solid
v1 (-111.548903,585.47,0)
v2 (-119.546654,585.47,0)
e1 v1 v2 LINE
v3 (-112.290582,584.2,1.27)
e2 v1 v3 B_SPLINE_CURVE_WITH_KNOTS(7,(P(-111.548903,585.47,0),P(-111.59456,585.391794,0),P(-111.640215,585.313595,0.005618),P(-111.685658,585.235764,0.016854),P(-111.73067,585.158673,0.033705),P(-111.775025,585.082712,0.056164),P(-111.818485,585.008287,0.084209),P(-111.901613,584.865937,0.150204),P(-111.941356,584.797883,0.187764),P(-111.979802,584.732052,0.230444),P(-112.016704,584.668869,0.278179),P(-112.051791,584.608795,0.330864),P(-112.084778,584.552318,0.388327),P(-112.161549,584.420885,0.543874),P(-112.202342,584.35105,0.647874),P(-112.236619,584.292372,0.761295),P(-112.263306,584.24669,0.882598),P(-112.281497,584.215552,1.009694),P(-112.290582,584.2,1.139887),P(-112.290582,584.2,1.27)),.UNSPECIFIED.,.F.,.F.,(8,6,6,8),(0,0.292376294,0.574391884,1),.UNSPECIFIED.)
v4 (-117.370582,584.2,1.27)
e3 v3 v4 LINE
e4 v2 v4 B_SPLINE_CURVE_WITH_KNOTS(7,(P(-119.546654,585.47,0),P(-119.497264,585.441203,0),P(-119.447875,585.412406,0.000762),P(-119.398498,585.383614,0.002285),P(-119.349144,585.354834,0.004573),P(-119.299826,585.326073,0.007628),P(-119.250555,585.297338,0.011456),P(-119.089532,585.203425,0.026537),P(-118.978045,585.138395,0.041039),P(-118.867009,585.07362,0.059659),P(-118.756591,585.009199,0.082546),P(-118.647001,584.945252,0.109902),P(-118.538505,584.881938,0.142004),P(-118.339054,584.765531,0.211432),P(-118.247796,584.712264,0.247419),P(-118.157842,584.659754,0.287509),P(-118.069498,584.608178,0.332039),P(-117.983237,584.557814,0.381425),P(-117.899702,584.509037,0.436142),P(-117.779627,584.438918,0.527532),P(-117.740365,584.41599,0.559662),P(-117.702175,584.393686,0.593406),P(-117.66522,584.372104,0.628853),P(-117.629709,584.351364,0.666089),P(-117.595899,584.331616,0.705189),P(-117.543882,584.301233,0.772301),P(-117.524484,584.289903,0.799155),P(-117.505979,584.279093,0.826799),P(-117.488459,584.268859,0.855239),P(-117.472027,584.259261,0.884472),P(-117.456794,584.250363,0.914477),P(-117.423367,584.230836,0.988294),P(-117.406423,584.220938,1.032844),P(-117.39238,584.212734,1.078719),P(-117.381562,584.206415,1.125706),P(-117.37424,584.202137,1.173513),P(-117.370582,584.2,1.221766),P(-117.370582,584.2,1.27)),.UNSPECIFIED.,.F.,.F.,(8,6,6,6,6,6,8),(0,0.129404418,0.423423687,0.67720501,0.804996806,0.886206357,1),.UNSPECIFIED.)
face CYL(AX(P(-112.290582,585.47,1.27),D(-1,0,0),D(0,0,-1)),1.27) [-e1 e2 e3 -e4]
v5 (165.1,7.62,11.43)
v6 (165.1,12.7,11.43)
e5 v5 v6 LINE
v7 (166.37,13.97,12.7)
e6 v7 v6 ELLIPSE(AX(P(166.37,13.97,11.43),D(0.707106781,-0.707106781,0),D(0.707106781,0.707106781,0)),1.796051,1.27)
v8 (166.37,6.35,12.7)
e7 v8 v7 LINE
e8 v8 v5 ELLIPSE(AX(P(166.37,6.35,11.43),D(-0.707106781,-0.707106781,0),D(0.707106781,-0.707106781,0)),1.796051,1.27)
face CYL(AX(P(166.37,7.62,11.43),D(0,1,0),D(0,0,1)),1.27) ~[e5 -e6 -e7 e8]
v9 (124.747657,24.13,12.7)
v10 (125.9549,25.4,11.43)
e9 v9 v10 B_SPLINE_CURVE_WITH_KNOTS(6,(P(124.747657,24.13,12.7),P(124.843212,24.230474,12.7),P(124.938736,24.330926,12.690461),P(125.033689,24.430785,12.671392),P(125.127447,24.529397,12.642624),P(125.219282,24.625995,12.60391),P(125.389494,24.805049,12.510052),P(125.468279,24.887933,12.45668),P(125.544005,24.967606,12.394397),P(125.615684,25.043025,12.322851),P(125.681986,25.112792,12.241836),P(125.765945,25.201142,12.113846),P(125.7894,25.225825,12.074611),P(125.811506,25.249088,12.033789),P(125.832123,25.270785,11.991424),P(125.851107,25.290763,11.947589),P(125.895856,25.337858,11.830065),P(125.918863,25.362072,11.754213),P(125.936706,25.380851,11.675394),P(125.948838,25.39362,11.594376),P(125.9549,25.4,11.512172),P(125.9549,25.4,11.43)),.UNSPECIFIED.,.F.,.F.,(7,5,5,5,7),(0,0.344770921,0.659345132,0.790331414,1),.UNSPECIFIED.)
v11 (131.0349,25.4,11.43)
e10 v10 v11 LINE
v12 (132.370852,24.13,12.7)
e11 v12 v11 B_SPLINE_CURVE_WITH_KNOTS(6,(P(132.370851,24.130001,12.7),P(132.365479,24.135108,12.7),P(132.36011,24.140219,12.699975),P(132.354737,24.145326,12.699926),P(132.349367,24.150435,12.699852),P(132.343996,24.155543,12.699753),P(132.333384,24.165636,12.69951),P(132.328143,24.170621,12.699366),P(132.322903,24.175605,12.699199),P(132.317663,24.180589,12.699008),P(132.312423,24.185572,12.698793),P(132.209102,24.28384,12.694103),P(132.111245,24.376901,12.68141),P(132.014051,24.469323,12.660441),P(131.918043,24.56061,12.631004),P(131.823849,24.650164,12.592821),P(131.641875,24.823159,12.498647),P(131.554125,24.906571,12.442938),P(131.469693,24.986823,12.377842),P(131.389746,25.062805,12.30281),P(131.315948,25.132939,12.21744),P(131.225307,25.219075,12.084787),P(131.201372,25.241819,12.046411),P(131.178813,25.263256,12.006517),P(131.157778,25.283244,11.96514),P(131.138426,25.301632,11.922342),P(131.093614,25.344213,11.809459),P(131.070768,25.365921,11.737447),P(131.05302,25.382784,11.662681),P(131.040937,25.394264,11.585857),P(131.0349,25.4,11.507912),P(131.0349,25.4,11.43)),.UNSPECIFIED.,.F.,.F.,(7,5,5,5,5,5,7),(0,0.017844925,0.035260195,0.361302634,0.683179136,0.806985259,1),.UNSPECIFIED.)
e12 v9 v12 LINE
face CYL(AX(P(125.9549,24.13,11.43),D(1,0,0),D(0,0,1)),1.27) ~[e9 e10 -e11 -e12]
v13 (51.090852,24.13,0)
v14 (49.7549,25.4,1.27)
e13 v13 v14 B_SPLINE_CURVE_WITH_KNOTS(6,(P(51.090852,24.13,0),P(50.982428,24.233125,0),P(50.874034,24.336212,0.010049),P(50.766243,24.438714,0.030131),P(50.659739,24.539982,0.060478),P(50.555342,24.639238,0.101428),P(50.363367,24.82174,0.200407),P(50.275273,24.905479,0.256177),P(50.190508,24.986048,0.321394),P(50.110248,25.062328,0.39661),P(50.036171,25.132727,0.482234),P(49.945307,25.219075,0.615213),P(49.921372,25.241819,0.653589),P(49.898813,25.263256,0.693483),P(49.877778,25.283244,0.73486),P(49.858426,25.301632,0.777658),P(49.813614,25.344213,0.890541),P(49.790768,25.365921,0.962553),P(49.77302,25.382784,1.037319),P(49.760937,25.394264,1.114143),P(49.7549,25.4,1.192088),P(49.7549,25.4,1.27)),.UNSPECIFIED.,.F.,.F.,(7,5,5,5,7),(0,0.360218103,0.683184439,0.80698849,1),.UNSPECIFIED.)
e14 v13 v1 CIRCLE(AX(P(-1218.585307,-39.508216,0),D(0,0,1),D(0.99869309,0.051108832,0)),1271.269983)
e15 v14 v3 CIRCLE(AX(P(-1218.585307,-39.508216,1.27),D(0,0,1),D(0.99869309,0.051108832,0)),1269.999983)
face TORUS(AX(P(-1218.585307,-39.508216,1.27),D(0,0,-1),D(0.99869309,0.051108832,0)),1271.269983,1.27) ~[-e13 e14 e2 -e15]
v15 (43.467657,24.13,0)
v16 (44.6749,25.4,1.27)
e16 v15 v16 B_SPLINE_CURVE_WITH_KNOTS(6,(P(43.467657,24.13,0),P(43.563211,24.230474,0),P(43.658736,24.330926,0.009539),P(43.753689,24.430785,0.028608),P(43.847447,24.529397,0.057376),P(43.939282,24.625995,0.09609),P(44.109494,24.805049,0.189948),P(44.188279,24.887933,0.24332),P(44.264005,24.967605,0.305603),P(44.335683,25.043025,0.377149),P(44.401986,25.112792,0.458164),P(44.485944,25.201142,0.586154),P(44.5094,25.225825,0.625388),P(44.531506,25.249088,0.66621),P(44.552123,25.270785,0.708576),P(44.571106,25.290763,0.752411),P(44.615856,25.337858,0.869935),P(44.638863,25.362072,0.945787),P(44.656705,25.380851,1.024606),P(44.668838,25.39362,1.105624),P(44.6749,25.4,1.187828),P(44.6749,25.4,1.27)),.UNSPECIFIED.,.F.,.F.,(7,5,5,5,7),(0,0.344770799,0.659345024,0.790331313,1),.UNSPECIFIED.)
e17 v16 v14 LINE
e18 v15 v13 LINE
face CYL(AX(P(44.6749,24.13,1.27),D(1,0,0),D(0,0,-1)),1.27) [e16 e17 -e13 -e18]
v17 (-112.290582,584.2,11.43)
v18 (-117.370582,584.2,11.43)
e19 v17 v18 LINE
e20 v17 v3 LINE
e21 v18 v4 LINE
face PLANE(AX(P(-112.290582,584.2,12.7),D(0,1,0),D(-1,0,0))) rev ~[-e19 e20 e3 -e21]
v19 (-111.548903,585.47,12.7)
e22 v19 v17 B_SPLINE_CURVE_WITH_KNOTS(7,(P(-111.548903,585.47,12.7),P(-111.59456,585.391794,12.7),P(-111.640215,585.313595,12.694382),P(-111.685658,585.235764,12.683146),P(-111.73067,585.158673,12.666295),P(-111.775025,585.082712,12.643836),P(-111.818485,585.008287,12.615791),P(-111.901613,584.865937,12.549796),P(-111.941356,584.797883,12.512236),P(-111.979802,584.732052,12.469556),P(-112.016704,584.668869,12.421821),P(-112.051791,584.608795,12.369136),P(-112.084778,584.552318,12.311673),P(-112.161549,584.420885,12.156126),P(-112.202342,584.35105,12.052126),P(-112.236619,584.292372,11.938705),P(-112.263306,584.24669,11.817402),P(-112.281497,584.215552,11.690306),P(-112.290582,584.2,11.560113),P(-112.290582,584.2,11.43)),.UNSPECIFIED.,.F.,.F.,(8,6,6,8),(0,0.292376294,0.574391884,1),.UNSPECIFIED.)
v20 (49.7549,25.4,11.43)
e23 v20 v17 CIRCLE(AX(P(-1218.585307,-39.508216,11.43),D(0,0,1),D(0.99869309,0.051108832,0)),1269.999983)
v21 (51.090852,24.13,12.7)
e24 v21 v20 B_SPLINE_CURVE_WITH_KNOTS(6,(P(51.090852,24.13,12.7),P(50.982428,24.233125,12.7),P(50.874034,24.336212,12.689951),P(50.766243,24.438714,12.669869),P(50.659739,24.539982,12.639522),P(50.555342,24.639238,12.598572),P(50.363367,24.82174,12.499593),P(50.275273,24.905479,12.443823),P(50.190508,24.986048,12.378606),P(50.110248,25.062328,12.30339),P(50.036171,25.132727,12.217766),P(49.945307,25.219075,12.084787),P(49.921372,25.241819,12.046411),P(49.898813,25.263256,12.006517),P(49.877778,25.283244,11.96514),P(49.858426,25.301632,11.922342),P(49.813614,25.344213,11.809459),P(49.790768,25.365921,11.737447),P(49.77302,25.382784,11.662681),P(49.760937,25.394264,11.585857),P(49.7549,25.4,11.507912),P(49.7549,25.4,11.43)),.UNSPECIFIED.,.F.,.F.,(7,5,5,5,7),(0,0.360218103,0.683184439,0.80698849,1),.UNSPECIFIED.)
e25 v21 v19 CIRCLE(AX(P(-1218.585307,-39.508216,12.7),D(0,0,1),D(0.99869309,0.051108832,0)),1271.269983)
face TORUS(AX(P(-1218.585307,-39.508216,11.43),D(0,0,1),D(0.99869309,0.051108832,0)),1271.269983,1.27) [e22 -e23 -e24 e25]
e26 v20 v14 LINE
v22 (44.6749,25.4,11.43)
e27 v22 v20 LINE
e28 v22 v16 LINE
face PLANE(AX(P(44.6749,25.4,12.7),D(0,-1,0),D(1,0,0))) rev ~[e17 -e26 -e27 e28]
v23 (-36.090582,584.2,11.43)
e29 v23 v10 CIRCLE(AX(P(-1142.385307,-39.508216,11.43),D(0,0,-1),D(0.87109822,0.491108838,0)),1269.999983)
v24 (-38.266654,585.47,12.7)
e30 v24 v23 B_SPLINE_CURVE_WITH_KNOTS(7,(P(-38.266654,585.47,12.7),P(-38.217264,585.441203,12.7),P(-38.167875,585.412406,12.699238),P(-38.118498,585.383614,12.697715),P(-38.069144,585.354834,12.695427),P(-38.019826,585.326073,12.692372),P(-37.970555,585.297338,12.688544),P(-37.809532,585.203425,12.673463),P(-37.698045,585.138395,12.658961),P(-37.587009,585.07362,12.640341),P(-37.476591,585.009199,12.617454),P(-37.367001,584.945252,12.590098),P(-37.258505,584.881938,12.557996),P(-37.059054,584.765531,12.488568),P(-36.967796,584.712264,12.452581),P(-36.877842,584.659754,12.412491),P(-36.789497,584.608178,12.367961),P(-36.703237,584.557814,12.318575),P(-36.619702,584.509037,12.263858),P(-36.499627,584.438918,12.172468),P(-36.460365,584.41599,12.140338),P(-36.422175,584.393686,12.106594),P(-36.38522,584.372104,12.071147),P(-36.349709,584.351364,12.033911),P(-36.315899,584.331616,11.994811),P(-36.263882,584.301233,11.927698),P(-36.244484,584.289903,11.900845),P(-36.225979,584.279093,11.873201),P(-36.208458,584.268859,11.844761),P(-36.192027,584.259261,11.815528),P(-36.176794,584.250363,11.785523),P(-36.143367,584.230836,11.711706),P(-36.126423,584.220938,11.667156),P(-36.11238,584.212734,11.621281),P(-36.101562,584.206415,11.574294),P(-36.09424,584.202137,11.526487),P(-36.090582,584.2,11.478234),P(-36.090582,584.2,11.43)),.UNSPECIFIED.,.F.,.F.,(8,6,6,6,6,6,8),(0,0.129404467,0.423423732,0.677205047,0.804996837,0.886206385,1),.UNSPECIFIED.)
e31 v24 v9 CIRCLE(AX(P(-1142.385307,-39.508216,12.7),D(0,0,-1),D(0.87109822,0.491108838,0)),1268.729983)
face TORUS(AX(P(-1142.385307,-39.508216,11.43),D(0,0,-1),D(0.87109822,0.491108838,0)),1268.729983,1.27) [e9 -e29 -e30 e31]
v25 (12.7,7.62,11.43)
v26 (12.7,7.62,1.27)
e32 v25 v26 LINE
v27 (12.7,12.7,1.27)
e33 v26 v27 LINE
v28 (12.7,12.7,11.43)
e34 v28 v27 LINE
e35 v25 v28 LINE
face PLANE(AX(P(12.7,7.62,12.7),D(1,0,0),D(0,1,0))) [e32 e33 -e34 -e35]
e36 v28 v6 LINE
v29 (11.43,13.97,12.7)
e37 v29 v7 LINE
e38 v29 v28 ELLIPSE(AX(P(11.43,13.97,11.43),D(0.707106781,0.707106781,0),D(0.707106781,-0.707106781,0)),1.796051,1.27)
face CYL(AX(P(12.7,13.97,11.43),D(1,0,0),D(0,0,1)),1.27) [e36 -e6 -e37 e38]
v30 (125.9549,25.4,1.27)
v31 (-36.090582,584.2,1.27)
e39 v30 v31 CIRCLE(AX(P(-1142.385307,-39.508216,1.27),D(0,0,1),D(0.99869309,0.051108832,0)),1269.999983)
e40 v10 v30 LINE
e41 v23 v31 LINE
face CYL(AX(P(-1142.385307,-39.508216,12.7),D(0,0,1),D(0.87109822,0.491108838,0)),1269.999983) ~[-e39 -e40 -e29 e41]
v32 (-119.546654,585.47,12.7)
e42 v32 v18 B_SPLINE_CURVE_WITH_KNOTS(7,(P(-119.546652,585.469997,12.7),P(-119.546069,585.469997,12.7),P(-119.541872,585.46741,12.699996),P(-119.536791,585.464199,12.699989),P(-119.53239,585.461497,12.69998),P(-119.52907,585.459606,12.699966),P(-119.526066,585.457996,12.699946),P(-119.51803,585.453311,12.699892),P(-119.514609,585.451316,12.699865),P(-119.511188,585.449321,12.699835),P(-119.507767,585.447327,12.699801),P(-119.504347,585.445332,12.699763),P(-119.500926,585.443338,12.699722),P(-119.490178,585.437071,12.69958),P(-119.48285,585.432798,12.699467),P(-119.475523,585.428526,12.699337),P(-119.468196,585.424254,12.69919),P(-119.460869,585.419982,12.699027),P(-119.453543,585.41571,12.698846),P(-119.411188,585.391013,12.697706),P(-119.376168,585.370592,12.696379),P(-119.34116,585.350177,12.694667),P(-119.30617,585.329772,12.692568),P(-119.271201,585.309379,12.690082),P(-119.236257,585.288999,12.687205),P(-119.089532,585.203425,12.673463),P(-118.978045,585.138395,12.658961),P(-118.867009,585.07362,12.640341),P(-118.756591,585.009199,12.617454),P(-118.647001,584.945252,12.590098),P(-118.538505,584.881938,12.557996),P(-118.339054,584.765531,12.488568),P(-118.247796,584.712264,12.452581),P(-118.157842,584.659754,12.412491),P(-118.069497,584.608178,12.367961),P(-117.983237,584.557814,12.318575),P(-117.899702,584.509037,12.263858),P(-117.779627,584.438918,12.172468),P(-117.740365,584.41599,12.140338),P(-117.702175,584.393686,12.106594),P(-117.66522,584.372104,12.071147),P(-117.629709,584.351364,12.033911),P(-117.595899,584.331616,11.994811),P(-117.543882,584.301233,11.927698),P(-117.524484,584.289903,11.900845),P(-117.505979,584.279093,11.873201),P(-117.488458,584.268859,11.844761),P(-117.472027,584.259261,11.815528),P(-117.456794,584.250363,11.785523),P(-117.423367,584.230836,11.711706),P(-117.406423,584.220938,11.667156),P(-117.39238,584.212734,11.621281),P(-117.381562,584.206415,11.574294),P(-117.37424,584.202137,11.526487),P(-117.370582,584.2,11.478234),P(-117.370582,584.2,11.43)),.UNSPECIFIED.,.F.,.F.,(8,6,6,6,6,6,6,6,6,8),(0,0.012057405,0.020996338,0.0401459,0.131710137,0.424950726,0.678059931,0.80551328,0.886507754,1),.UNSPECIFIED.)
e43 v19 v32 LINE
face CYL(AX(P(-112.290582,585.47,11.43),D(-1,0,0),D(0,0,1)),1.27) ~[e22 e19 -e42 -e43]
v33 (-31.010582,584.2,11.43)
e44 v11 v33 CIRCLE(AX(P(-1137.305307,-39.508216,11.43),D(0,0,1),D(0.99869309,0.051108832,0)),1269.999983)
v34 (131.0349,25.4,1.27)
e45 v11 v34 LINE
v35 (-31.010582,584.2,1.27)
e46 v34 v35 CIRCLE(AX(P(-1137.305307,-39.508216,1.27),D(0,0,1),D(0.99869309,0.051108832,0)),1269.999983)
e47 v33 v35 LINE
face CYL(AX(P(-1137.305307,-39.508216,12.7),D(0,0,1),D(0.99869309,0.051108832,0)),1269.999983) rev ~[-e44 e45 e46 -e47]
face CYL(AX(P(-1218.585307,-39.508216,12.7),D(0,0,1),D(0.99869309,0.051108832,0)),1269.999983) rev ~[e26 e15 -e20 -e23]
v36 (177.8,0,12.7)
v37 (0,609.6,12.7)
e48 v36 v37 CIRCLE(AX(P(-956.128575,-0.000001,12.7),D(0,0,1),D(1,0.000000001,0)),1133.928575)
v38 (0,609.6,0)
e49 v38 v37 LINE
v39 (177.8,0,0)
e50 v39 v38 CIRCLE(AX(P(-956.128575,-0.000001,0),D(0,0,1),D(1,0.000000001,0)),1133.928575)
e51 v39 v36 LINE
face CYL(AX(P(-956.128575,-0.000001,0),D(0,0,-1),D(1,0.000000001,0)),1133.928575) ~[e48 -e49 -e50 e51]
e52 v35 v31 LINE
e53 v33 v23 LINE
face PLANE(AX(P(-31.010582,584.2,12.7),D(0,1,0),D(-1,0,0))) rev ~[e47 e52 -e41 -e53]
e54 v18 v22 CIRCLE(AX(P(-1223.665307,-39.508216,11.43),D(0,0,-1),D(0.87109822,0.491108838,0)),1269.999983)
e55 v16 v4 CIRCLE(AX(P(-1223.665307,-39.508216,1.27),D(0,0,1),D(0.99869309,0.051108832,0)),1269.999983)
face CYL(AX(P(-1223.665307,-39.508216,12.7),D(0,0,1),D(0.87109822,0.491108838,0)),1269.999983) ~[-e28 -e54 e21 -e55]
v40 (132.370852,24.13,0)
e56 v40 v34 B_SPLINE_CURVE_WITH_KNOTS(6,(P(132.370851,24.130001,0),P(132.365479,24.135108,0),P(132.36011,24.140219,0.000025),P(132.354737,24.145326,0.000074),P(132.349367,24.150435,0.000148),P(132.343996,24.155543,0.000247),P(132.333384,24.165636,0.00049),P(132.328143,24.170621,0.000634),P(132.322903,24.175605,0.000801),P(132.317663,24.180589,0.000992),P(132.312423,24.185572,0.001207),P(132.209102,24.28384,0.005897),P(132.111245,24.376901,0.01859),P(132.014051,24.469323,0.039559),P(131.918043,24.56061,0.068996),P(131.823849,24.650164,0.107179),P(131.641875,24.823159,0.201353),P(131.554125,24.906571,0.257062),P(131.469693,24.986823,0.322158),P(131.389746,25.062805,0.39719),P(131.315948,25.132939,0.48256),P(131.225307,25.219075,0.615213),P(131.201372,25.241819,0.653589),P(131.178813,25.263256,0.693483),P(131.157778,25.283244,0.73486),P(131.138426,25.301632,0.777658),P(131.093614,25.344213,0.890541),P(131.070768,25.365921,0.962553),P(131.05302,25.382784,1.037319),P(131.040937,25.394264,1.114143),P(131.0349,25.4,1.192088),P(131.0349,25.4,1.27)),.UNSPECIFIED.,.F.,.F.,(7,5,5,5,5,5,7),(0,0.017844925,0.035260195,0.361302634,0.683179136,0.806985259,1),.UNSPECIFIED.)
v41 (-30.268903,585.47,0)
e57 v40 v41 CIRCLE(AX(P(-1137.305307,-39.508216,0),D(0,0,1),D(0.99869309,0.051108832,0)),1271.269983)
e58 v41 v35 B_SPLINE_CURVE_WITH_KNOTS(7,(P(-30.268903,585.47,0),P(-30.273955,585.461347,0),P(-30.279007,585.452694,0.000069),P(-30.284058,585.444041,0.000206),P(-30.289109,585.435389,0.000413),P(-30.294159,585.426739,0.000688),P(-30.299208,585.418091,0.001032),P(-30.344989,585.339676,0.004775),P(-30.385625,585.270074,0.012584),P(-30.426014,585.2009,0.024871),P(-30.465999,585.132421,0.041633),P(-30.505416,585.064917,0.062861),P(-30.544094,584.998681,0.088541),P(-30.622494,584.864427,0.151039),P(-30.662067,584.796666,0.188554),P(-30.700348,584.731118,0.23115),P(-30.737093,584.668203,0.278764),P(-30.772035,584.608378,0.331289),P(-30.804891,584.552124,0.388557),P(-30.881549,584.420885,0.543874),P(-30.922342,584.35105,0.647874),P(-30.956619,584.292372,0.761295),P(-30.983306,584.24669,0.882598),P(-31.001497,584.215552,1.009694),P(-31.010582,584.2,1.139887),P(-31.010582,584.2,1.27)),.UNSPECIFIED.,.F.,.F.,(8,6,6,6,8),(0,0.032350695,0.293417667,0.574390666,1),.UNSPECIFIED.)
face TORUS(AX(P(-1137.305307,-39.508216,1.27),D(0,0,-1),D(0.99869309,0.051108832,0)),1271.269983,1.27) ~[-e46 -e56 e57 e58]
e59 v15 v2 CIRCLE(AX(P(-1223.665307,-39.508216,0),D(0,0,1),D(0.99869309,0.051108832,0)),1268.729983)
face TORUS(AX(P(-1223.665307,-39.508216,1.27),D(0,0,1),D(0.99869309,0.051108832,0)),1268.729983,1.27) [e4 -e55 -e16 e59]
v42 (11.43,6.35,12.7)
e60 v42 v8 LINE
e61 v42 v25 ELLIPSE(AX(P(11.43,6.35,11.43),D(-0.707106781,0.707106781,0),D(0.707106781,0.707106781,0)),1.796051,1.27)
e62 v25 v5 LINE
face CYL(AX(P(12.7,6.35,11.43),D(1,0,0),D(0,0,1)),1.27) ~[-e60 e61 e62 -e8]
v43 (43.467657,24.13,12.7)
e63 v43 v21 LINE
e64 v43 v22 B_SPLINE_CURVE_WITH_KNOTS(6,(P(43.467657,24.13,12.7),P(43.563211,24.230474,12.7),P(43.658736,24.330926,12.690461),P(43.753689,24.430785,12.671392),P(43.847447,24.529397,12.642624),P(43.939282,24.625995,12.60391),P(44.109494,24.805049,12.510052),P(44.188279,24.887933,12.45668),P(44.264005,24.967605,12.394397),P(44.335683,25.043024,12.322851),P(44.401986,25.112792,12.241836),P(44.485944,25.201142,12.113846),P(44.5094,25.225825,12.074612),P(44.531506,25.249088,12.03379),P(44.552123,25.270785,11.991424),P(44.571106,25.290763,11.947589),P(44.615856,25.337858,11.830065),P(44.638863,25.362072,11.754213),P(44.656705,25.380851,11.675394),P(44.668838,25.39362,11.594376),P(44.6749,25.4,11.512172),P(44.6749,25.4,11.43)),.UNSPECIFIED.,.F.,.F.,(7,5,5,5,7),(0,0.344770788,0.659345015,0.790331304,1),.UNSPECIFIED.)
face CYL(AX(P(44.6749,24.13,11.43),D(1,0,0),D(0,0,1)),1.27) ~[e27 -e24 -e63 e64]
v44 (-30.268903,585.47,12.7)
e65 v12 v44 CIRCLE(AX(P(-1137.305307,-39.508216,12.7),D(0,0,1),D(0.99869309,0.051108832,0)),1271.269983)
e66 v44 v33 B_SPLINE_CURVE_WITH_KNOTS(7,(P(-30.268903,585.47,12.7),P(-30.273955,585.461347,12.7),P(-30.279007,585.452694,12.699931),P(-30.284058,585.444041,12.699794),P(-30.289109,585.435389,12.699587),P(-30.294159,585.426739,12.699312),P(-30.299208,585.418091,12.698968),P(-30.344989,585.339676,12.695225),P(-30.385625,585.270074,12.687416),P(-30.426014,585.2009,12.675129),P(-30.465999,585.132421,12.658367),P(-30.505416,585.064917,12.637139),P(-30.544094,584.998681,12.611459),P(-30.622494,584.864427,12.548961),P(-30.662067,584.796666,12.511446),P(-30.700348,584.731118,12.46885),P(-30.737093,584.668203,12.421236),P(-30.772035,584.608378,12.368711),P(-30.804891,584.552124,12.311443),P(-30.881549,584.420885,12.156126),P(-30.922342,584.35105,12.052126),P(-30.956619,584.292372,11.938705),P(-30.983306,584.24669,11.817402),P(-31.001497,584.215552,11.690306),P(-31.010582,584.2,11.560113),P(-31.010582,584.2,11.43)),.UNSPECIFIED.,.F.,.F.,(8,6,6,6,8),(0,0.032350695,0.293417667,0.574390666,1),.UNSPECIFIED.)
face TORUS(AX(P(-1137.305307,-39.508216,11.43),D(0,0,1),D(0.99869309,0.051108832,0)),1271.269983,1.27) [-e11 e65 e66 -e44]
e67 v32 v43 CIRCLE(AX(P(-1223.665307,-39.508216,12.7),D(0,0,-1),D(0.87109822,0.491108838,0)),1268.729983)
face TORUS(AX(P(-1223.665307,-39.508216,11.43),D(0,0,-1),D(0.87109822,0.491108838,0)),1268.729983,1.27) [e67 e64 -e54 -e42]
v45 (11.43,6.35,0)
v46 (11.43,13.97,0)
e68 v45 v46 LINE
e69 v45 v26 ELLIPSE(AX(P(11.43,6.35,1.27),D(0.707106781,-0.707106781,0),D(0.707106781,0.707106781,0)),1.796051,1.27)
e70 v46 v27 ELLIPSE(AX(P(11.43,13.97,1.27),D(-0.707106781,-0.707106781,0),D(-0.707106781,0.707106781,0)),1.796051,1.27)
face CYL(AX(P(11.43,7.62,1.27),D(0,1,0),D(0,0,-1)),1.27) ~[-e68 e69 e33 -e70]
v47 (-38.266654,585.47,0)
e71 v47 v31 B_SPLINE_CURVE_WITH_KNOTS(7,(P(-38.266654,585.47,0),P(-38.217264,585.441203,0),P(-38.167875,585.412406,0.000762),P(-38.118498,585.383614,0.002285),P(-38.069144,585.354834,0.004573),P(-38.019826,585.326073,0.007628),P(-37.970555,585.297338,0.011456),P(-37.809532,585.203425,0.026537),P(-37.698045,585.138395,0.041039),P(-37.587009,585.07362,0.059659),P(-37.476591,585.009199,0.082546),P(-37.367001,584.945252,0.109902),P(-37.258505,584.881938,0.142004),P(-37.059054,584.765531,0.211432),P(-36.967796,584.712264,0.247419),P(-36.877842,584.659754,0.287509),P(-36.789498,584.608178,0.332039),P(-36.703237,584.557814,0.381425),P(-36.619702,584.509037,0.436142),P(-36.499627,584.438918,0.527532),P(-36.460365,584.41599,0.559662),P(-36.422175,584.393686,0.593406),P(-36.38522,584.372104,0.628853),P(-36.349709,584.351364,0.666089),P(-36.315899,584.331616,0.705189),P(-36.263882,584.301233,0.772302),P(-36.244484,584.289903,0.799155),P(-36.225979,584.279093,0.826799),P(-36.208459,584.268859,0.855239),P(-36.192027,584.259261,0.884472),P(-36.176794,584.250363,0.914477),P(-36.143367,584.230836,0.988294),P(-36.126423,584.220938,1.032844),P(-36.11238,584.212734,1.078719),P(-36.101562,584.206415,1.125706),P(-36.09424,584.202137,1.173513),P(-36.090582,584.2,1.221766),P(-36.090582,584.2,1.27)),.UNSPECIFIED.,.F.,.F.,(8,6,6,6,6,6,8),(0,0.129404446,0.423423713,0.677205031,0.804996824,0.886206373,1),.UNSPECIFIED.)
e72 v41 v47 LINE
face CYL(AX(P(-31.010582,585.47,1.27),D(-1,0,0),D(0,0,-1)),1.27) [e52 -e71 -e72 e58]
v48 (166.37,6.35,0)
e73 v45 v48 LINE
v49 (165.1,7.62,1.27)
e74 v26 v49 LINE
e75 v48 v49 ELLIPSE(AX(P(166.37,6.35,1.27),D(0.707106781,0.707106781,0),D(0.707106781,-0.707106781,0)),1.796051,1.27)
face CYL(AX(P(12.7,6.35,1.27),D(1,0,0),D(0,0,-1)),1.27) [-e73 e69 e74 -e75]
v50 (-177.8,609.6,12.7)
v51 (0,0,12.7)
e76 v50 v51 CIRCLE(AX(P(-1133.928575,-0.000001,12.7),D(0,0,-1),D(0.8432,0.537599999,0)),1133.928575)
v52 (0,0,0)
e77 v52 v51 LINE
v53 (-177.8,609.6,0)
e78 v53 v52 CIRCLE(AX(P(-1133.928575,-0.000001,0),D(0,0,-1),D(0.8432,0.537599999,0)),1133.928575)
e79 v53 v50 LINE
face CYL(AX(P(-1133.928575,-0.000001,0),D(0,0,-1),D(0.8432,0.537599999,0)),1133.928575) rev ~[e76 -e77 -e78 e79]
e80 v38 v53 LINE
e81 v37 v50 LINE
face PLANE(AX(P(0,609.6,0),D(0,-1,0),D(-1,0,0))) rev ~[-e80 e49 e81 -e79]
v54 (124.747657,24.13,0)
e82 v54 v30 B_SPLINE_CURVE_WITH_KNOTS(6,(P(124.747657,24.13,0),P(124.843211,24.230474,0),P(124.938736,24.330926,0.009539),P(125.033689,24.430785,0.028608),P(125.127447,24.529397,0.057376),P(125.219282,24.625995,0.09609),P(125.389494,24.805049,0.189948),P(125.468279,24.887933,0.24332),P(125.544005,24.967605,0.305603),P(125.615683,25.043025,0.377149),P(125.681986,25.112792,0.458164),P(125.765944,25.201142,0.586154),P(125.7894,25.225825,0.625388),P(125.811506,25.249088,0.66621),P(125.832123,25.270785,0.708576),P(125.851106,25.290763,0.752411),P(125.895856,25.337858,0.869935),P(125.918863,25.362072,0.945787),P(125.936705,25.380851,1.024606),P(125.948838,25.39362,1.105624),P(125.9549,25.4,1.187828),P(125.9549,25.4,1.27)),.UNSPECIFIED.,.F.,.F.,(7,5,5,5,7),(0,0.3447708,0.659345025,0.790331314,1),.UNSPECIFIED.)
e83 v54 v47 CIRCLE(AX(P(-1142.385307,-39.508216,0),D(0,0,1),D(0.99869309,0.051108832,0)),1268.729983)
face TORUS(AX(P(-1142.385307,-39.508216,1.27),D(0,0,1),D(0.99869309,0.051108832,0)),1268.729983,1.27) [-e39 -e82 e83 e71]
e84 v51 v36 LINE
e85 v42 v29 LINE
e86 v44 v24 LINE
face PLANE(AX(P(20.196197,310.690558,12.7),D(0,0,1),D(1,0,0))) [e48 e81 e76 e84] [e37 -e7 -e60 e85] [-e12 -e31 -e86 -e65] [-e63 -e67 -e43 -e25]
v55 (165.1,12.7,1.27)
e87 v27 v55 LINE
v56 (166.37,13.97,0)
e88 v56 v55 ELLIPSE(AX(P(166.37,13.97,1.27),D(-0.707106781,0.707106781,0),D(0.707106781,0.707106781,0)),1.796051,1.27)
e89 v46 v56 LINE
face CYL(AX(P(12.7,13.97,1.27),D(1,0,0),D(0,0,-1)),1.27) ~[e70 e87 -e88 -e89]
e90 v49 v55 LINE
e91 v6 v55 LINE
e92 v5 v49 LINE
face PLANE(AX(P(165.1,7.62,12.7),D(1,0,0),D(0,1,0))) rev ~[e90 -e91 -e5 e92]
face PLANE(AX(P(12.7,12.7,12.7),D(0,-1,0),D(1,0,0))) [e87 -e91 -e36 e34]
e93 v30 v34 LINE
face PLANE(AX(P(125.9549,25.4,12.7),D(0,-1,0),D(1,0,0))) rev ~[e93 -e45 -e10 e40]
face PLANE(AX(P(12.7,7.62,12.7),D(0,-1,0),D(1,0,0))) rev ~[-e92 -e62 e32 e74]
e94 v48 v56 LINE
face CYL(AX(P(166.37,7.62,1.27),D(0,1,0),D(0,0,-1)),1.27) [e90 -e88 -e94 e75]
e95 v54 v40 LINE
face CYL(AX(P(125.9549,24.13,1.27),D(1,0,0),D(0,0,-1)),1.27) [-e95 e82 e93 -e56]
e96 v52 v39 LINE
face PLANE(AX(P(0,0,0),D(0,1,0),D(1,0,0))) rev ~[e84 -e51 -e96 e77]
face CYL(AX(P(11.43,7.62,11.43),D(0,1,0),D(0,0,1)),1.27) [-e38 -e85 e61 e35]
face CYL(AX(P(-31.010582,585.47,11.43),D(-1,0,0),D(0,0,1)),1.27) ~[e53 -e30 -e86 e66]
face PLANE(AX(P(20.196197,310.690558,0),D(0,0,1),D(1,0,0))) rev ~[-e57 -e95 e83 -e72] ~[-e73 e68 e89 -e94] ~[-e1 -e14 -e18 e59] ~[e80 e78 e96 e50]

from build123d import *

# Parameters (mm, degrees)
F1_DEPTH = 12.7
F3_DEPTH = 12.701
F5_DEPTH = 12.701
F6_W     = 152.4
F6_H     = 5.08
F7_DEPTH = 12.701
F8_R     = 1.27


with BuildPart() as f1:
    # F0 (on Top) → F1 (new body)
    with BuildSketch(Plane.XY):
        with BuildLine():
            ThreePointArc((-177.8, 609.6), (-45.357143, 317.5), (0, 0))
            Line((0, 0), (177.8, 0))
            ThreePointArc((177.8, 0), (132.442857, 317.5), (0, 609.6))
            Line((0, 609.6), (-177.8, 609.6))
        make_face()
    extrude(amount=F1_DEPTH)

    # F2 (on face) → F3 (cut, through all)
    with BuildSketch(Plane.XY.offset(12.7)):
        with BuildLine():
            Line((44.6749, 25.4), (49.7549, 25.4))
            ThreePointArc((49.7549, 25.4), (1.163489, 314.204707), (-112.290582, 584.2))
            Line((-112.290582, 584.2), (-117.370582, 584.2))
            ThreePointArc((-117.370582, 584.2), (-3.916511, 314.204707), (44.6749, 25.4))
        make_face()
    extrude(amount=-F3_DEPTH, mode=Mode.SUBTRACT)

    # F4 (on face) → F5 (cut, through all)
    with BuildSketch(Plane.XY.offset(12.7)):
        with BuildLine():
            ThreePointArc((-36.090582, 584.2), (77.363489, 314.204707), (125.9549, 25.4))
            Line((125.9549, 25.4), (131.0349, 25.4))
            ThreePointArc((131.0349, 25.4), (82.443489, 314.204707), (-31.010582, 584.2))
            Line((-31.010582, 584.2), (-36.090582, 584.2))
        make_face()
    extrude(amount=-F5_DEPTH, mode=Mode.SUBTRACT)

    # F6 (on face) → F7 (cut, through all)
    with BuildSketch(Plane.XY.offset(12.7)):
        with Locations((88.9, 10.16)):
            Rectangle(F6_W, F6_H)
    extrude(amount=-F7_DEPTH, mode=Mode.SUBTRACT)

    # F8
    f8_edges = [f1.edges().sort_by_distance(p)[0] for p in [
        (-114.830582, 584.2, 12.7),
        (1.163489, 314.204707, 12.7),
        (-3.916511, 314.204707, 12.7),
        (47.2149, 25.4, 12.7),
        (88.9, 12.7, 12.7),
        (12.7, 10.16, 12.7),
        (88.9, 7.62, 12.7),
        (165.1, 10.16, 12.7),
        (82.443489, 314.204707, 12.7),
        (77.363489, 314.204707, 12.7),
        (128.4949, 25.4, 12.7),
        (-33.550582, 584.2, 12.7),
        (-114.830582, 584.2, 0),
        (1.163489, 314.204707, 0),
        (-3.916511, 314.204707, 0),
        (47.2149, 25.4, 0),
        (128.4949, 25.4, 0),
        (82.443489, 314.204707, 0),
        (77.363489, 314.204707, 0),
        (-33.550582, 584.2, 0),
        (12.7, 10.16, 0),
        (88.9, 12.7, 0),
        (88.9, 7.62, 0),
        (165.1, 10.16, 0),
    ]]
    fillet(f8_edges, radius=F8_R)


solid = f1.part
